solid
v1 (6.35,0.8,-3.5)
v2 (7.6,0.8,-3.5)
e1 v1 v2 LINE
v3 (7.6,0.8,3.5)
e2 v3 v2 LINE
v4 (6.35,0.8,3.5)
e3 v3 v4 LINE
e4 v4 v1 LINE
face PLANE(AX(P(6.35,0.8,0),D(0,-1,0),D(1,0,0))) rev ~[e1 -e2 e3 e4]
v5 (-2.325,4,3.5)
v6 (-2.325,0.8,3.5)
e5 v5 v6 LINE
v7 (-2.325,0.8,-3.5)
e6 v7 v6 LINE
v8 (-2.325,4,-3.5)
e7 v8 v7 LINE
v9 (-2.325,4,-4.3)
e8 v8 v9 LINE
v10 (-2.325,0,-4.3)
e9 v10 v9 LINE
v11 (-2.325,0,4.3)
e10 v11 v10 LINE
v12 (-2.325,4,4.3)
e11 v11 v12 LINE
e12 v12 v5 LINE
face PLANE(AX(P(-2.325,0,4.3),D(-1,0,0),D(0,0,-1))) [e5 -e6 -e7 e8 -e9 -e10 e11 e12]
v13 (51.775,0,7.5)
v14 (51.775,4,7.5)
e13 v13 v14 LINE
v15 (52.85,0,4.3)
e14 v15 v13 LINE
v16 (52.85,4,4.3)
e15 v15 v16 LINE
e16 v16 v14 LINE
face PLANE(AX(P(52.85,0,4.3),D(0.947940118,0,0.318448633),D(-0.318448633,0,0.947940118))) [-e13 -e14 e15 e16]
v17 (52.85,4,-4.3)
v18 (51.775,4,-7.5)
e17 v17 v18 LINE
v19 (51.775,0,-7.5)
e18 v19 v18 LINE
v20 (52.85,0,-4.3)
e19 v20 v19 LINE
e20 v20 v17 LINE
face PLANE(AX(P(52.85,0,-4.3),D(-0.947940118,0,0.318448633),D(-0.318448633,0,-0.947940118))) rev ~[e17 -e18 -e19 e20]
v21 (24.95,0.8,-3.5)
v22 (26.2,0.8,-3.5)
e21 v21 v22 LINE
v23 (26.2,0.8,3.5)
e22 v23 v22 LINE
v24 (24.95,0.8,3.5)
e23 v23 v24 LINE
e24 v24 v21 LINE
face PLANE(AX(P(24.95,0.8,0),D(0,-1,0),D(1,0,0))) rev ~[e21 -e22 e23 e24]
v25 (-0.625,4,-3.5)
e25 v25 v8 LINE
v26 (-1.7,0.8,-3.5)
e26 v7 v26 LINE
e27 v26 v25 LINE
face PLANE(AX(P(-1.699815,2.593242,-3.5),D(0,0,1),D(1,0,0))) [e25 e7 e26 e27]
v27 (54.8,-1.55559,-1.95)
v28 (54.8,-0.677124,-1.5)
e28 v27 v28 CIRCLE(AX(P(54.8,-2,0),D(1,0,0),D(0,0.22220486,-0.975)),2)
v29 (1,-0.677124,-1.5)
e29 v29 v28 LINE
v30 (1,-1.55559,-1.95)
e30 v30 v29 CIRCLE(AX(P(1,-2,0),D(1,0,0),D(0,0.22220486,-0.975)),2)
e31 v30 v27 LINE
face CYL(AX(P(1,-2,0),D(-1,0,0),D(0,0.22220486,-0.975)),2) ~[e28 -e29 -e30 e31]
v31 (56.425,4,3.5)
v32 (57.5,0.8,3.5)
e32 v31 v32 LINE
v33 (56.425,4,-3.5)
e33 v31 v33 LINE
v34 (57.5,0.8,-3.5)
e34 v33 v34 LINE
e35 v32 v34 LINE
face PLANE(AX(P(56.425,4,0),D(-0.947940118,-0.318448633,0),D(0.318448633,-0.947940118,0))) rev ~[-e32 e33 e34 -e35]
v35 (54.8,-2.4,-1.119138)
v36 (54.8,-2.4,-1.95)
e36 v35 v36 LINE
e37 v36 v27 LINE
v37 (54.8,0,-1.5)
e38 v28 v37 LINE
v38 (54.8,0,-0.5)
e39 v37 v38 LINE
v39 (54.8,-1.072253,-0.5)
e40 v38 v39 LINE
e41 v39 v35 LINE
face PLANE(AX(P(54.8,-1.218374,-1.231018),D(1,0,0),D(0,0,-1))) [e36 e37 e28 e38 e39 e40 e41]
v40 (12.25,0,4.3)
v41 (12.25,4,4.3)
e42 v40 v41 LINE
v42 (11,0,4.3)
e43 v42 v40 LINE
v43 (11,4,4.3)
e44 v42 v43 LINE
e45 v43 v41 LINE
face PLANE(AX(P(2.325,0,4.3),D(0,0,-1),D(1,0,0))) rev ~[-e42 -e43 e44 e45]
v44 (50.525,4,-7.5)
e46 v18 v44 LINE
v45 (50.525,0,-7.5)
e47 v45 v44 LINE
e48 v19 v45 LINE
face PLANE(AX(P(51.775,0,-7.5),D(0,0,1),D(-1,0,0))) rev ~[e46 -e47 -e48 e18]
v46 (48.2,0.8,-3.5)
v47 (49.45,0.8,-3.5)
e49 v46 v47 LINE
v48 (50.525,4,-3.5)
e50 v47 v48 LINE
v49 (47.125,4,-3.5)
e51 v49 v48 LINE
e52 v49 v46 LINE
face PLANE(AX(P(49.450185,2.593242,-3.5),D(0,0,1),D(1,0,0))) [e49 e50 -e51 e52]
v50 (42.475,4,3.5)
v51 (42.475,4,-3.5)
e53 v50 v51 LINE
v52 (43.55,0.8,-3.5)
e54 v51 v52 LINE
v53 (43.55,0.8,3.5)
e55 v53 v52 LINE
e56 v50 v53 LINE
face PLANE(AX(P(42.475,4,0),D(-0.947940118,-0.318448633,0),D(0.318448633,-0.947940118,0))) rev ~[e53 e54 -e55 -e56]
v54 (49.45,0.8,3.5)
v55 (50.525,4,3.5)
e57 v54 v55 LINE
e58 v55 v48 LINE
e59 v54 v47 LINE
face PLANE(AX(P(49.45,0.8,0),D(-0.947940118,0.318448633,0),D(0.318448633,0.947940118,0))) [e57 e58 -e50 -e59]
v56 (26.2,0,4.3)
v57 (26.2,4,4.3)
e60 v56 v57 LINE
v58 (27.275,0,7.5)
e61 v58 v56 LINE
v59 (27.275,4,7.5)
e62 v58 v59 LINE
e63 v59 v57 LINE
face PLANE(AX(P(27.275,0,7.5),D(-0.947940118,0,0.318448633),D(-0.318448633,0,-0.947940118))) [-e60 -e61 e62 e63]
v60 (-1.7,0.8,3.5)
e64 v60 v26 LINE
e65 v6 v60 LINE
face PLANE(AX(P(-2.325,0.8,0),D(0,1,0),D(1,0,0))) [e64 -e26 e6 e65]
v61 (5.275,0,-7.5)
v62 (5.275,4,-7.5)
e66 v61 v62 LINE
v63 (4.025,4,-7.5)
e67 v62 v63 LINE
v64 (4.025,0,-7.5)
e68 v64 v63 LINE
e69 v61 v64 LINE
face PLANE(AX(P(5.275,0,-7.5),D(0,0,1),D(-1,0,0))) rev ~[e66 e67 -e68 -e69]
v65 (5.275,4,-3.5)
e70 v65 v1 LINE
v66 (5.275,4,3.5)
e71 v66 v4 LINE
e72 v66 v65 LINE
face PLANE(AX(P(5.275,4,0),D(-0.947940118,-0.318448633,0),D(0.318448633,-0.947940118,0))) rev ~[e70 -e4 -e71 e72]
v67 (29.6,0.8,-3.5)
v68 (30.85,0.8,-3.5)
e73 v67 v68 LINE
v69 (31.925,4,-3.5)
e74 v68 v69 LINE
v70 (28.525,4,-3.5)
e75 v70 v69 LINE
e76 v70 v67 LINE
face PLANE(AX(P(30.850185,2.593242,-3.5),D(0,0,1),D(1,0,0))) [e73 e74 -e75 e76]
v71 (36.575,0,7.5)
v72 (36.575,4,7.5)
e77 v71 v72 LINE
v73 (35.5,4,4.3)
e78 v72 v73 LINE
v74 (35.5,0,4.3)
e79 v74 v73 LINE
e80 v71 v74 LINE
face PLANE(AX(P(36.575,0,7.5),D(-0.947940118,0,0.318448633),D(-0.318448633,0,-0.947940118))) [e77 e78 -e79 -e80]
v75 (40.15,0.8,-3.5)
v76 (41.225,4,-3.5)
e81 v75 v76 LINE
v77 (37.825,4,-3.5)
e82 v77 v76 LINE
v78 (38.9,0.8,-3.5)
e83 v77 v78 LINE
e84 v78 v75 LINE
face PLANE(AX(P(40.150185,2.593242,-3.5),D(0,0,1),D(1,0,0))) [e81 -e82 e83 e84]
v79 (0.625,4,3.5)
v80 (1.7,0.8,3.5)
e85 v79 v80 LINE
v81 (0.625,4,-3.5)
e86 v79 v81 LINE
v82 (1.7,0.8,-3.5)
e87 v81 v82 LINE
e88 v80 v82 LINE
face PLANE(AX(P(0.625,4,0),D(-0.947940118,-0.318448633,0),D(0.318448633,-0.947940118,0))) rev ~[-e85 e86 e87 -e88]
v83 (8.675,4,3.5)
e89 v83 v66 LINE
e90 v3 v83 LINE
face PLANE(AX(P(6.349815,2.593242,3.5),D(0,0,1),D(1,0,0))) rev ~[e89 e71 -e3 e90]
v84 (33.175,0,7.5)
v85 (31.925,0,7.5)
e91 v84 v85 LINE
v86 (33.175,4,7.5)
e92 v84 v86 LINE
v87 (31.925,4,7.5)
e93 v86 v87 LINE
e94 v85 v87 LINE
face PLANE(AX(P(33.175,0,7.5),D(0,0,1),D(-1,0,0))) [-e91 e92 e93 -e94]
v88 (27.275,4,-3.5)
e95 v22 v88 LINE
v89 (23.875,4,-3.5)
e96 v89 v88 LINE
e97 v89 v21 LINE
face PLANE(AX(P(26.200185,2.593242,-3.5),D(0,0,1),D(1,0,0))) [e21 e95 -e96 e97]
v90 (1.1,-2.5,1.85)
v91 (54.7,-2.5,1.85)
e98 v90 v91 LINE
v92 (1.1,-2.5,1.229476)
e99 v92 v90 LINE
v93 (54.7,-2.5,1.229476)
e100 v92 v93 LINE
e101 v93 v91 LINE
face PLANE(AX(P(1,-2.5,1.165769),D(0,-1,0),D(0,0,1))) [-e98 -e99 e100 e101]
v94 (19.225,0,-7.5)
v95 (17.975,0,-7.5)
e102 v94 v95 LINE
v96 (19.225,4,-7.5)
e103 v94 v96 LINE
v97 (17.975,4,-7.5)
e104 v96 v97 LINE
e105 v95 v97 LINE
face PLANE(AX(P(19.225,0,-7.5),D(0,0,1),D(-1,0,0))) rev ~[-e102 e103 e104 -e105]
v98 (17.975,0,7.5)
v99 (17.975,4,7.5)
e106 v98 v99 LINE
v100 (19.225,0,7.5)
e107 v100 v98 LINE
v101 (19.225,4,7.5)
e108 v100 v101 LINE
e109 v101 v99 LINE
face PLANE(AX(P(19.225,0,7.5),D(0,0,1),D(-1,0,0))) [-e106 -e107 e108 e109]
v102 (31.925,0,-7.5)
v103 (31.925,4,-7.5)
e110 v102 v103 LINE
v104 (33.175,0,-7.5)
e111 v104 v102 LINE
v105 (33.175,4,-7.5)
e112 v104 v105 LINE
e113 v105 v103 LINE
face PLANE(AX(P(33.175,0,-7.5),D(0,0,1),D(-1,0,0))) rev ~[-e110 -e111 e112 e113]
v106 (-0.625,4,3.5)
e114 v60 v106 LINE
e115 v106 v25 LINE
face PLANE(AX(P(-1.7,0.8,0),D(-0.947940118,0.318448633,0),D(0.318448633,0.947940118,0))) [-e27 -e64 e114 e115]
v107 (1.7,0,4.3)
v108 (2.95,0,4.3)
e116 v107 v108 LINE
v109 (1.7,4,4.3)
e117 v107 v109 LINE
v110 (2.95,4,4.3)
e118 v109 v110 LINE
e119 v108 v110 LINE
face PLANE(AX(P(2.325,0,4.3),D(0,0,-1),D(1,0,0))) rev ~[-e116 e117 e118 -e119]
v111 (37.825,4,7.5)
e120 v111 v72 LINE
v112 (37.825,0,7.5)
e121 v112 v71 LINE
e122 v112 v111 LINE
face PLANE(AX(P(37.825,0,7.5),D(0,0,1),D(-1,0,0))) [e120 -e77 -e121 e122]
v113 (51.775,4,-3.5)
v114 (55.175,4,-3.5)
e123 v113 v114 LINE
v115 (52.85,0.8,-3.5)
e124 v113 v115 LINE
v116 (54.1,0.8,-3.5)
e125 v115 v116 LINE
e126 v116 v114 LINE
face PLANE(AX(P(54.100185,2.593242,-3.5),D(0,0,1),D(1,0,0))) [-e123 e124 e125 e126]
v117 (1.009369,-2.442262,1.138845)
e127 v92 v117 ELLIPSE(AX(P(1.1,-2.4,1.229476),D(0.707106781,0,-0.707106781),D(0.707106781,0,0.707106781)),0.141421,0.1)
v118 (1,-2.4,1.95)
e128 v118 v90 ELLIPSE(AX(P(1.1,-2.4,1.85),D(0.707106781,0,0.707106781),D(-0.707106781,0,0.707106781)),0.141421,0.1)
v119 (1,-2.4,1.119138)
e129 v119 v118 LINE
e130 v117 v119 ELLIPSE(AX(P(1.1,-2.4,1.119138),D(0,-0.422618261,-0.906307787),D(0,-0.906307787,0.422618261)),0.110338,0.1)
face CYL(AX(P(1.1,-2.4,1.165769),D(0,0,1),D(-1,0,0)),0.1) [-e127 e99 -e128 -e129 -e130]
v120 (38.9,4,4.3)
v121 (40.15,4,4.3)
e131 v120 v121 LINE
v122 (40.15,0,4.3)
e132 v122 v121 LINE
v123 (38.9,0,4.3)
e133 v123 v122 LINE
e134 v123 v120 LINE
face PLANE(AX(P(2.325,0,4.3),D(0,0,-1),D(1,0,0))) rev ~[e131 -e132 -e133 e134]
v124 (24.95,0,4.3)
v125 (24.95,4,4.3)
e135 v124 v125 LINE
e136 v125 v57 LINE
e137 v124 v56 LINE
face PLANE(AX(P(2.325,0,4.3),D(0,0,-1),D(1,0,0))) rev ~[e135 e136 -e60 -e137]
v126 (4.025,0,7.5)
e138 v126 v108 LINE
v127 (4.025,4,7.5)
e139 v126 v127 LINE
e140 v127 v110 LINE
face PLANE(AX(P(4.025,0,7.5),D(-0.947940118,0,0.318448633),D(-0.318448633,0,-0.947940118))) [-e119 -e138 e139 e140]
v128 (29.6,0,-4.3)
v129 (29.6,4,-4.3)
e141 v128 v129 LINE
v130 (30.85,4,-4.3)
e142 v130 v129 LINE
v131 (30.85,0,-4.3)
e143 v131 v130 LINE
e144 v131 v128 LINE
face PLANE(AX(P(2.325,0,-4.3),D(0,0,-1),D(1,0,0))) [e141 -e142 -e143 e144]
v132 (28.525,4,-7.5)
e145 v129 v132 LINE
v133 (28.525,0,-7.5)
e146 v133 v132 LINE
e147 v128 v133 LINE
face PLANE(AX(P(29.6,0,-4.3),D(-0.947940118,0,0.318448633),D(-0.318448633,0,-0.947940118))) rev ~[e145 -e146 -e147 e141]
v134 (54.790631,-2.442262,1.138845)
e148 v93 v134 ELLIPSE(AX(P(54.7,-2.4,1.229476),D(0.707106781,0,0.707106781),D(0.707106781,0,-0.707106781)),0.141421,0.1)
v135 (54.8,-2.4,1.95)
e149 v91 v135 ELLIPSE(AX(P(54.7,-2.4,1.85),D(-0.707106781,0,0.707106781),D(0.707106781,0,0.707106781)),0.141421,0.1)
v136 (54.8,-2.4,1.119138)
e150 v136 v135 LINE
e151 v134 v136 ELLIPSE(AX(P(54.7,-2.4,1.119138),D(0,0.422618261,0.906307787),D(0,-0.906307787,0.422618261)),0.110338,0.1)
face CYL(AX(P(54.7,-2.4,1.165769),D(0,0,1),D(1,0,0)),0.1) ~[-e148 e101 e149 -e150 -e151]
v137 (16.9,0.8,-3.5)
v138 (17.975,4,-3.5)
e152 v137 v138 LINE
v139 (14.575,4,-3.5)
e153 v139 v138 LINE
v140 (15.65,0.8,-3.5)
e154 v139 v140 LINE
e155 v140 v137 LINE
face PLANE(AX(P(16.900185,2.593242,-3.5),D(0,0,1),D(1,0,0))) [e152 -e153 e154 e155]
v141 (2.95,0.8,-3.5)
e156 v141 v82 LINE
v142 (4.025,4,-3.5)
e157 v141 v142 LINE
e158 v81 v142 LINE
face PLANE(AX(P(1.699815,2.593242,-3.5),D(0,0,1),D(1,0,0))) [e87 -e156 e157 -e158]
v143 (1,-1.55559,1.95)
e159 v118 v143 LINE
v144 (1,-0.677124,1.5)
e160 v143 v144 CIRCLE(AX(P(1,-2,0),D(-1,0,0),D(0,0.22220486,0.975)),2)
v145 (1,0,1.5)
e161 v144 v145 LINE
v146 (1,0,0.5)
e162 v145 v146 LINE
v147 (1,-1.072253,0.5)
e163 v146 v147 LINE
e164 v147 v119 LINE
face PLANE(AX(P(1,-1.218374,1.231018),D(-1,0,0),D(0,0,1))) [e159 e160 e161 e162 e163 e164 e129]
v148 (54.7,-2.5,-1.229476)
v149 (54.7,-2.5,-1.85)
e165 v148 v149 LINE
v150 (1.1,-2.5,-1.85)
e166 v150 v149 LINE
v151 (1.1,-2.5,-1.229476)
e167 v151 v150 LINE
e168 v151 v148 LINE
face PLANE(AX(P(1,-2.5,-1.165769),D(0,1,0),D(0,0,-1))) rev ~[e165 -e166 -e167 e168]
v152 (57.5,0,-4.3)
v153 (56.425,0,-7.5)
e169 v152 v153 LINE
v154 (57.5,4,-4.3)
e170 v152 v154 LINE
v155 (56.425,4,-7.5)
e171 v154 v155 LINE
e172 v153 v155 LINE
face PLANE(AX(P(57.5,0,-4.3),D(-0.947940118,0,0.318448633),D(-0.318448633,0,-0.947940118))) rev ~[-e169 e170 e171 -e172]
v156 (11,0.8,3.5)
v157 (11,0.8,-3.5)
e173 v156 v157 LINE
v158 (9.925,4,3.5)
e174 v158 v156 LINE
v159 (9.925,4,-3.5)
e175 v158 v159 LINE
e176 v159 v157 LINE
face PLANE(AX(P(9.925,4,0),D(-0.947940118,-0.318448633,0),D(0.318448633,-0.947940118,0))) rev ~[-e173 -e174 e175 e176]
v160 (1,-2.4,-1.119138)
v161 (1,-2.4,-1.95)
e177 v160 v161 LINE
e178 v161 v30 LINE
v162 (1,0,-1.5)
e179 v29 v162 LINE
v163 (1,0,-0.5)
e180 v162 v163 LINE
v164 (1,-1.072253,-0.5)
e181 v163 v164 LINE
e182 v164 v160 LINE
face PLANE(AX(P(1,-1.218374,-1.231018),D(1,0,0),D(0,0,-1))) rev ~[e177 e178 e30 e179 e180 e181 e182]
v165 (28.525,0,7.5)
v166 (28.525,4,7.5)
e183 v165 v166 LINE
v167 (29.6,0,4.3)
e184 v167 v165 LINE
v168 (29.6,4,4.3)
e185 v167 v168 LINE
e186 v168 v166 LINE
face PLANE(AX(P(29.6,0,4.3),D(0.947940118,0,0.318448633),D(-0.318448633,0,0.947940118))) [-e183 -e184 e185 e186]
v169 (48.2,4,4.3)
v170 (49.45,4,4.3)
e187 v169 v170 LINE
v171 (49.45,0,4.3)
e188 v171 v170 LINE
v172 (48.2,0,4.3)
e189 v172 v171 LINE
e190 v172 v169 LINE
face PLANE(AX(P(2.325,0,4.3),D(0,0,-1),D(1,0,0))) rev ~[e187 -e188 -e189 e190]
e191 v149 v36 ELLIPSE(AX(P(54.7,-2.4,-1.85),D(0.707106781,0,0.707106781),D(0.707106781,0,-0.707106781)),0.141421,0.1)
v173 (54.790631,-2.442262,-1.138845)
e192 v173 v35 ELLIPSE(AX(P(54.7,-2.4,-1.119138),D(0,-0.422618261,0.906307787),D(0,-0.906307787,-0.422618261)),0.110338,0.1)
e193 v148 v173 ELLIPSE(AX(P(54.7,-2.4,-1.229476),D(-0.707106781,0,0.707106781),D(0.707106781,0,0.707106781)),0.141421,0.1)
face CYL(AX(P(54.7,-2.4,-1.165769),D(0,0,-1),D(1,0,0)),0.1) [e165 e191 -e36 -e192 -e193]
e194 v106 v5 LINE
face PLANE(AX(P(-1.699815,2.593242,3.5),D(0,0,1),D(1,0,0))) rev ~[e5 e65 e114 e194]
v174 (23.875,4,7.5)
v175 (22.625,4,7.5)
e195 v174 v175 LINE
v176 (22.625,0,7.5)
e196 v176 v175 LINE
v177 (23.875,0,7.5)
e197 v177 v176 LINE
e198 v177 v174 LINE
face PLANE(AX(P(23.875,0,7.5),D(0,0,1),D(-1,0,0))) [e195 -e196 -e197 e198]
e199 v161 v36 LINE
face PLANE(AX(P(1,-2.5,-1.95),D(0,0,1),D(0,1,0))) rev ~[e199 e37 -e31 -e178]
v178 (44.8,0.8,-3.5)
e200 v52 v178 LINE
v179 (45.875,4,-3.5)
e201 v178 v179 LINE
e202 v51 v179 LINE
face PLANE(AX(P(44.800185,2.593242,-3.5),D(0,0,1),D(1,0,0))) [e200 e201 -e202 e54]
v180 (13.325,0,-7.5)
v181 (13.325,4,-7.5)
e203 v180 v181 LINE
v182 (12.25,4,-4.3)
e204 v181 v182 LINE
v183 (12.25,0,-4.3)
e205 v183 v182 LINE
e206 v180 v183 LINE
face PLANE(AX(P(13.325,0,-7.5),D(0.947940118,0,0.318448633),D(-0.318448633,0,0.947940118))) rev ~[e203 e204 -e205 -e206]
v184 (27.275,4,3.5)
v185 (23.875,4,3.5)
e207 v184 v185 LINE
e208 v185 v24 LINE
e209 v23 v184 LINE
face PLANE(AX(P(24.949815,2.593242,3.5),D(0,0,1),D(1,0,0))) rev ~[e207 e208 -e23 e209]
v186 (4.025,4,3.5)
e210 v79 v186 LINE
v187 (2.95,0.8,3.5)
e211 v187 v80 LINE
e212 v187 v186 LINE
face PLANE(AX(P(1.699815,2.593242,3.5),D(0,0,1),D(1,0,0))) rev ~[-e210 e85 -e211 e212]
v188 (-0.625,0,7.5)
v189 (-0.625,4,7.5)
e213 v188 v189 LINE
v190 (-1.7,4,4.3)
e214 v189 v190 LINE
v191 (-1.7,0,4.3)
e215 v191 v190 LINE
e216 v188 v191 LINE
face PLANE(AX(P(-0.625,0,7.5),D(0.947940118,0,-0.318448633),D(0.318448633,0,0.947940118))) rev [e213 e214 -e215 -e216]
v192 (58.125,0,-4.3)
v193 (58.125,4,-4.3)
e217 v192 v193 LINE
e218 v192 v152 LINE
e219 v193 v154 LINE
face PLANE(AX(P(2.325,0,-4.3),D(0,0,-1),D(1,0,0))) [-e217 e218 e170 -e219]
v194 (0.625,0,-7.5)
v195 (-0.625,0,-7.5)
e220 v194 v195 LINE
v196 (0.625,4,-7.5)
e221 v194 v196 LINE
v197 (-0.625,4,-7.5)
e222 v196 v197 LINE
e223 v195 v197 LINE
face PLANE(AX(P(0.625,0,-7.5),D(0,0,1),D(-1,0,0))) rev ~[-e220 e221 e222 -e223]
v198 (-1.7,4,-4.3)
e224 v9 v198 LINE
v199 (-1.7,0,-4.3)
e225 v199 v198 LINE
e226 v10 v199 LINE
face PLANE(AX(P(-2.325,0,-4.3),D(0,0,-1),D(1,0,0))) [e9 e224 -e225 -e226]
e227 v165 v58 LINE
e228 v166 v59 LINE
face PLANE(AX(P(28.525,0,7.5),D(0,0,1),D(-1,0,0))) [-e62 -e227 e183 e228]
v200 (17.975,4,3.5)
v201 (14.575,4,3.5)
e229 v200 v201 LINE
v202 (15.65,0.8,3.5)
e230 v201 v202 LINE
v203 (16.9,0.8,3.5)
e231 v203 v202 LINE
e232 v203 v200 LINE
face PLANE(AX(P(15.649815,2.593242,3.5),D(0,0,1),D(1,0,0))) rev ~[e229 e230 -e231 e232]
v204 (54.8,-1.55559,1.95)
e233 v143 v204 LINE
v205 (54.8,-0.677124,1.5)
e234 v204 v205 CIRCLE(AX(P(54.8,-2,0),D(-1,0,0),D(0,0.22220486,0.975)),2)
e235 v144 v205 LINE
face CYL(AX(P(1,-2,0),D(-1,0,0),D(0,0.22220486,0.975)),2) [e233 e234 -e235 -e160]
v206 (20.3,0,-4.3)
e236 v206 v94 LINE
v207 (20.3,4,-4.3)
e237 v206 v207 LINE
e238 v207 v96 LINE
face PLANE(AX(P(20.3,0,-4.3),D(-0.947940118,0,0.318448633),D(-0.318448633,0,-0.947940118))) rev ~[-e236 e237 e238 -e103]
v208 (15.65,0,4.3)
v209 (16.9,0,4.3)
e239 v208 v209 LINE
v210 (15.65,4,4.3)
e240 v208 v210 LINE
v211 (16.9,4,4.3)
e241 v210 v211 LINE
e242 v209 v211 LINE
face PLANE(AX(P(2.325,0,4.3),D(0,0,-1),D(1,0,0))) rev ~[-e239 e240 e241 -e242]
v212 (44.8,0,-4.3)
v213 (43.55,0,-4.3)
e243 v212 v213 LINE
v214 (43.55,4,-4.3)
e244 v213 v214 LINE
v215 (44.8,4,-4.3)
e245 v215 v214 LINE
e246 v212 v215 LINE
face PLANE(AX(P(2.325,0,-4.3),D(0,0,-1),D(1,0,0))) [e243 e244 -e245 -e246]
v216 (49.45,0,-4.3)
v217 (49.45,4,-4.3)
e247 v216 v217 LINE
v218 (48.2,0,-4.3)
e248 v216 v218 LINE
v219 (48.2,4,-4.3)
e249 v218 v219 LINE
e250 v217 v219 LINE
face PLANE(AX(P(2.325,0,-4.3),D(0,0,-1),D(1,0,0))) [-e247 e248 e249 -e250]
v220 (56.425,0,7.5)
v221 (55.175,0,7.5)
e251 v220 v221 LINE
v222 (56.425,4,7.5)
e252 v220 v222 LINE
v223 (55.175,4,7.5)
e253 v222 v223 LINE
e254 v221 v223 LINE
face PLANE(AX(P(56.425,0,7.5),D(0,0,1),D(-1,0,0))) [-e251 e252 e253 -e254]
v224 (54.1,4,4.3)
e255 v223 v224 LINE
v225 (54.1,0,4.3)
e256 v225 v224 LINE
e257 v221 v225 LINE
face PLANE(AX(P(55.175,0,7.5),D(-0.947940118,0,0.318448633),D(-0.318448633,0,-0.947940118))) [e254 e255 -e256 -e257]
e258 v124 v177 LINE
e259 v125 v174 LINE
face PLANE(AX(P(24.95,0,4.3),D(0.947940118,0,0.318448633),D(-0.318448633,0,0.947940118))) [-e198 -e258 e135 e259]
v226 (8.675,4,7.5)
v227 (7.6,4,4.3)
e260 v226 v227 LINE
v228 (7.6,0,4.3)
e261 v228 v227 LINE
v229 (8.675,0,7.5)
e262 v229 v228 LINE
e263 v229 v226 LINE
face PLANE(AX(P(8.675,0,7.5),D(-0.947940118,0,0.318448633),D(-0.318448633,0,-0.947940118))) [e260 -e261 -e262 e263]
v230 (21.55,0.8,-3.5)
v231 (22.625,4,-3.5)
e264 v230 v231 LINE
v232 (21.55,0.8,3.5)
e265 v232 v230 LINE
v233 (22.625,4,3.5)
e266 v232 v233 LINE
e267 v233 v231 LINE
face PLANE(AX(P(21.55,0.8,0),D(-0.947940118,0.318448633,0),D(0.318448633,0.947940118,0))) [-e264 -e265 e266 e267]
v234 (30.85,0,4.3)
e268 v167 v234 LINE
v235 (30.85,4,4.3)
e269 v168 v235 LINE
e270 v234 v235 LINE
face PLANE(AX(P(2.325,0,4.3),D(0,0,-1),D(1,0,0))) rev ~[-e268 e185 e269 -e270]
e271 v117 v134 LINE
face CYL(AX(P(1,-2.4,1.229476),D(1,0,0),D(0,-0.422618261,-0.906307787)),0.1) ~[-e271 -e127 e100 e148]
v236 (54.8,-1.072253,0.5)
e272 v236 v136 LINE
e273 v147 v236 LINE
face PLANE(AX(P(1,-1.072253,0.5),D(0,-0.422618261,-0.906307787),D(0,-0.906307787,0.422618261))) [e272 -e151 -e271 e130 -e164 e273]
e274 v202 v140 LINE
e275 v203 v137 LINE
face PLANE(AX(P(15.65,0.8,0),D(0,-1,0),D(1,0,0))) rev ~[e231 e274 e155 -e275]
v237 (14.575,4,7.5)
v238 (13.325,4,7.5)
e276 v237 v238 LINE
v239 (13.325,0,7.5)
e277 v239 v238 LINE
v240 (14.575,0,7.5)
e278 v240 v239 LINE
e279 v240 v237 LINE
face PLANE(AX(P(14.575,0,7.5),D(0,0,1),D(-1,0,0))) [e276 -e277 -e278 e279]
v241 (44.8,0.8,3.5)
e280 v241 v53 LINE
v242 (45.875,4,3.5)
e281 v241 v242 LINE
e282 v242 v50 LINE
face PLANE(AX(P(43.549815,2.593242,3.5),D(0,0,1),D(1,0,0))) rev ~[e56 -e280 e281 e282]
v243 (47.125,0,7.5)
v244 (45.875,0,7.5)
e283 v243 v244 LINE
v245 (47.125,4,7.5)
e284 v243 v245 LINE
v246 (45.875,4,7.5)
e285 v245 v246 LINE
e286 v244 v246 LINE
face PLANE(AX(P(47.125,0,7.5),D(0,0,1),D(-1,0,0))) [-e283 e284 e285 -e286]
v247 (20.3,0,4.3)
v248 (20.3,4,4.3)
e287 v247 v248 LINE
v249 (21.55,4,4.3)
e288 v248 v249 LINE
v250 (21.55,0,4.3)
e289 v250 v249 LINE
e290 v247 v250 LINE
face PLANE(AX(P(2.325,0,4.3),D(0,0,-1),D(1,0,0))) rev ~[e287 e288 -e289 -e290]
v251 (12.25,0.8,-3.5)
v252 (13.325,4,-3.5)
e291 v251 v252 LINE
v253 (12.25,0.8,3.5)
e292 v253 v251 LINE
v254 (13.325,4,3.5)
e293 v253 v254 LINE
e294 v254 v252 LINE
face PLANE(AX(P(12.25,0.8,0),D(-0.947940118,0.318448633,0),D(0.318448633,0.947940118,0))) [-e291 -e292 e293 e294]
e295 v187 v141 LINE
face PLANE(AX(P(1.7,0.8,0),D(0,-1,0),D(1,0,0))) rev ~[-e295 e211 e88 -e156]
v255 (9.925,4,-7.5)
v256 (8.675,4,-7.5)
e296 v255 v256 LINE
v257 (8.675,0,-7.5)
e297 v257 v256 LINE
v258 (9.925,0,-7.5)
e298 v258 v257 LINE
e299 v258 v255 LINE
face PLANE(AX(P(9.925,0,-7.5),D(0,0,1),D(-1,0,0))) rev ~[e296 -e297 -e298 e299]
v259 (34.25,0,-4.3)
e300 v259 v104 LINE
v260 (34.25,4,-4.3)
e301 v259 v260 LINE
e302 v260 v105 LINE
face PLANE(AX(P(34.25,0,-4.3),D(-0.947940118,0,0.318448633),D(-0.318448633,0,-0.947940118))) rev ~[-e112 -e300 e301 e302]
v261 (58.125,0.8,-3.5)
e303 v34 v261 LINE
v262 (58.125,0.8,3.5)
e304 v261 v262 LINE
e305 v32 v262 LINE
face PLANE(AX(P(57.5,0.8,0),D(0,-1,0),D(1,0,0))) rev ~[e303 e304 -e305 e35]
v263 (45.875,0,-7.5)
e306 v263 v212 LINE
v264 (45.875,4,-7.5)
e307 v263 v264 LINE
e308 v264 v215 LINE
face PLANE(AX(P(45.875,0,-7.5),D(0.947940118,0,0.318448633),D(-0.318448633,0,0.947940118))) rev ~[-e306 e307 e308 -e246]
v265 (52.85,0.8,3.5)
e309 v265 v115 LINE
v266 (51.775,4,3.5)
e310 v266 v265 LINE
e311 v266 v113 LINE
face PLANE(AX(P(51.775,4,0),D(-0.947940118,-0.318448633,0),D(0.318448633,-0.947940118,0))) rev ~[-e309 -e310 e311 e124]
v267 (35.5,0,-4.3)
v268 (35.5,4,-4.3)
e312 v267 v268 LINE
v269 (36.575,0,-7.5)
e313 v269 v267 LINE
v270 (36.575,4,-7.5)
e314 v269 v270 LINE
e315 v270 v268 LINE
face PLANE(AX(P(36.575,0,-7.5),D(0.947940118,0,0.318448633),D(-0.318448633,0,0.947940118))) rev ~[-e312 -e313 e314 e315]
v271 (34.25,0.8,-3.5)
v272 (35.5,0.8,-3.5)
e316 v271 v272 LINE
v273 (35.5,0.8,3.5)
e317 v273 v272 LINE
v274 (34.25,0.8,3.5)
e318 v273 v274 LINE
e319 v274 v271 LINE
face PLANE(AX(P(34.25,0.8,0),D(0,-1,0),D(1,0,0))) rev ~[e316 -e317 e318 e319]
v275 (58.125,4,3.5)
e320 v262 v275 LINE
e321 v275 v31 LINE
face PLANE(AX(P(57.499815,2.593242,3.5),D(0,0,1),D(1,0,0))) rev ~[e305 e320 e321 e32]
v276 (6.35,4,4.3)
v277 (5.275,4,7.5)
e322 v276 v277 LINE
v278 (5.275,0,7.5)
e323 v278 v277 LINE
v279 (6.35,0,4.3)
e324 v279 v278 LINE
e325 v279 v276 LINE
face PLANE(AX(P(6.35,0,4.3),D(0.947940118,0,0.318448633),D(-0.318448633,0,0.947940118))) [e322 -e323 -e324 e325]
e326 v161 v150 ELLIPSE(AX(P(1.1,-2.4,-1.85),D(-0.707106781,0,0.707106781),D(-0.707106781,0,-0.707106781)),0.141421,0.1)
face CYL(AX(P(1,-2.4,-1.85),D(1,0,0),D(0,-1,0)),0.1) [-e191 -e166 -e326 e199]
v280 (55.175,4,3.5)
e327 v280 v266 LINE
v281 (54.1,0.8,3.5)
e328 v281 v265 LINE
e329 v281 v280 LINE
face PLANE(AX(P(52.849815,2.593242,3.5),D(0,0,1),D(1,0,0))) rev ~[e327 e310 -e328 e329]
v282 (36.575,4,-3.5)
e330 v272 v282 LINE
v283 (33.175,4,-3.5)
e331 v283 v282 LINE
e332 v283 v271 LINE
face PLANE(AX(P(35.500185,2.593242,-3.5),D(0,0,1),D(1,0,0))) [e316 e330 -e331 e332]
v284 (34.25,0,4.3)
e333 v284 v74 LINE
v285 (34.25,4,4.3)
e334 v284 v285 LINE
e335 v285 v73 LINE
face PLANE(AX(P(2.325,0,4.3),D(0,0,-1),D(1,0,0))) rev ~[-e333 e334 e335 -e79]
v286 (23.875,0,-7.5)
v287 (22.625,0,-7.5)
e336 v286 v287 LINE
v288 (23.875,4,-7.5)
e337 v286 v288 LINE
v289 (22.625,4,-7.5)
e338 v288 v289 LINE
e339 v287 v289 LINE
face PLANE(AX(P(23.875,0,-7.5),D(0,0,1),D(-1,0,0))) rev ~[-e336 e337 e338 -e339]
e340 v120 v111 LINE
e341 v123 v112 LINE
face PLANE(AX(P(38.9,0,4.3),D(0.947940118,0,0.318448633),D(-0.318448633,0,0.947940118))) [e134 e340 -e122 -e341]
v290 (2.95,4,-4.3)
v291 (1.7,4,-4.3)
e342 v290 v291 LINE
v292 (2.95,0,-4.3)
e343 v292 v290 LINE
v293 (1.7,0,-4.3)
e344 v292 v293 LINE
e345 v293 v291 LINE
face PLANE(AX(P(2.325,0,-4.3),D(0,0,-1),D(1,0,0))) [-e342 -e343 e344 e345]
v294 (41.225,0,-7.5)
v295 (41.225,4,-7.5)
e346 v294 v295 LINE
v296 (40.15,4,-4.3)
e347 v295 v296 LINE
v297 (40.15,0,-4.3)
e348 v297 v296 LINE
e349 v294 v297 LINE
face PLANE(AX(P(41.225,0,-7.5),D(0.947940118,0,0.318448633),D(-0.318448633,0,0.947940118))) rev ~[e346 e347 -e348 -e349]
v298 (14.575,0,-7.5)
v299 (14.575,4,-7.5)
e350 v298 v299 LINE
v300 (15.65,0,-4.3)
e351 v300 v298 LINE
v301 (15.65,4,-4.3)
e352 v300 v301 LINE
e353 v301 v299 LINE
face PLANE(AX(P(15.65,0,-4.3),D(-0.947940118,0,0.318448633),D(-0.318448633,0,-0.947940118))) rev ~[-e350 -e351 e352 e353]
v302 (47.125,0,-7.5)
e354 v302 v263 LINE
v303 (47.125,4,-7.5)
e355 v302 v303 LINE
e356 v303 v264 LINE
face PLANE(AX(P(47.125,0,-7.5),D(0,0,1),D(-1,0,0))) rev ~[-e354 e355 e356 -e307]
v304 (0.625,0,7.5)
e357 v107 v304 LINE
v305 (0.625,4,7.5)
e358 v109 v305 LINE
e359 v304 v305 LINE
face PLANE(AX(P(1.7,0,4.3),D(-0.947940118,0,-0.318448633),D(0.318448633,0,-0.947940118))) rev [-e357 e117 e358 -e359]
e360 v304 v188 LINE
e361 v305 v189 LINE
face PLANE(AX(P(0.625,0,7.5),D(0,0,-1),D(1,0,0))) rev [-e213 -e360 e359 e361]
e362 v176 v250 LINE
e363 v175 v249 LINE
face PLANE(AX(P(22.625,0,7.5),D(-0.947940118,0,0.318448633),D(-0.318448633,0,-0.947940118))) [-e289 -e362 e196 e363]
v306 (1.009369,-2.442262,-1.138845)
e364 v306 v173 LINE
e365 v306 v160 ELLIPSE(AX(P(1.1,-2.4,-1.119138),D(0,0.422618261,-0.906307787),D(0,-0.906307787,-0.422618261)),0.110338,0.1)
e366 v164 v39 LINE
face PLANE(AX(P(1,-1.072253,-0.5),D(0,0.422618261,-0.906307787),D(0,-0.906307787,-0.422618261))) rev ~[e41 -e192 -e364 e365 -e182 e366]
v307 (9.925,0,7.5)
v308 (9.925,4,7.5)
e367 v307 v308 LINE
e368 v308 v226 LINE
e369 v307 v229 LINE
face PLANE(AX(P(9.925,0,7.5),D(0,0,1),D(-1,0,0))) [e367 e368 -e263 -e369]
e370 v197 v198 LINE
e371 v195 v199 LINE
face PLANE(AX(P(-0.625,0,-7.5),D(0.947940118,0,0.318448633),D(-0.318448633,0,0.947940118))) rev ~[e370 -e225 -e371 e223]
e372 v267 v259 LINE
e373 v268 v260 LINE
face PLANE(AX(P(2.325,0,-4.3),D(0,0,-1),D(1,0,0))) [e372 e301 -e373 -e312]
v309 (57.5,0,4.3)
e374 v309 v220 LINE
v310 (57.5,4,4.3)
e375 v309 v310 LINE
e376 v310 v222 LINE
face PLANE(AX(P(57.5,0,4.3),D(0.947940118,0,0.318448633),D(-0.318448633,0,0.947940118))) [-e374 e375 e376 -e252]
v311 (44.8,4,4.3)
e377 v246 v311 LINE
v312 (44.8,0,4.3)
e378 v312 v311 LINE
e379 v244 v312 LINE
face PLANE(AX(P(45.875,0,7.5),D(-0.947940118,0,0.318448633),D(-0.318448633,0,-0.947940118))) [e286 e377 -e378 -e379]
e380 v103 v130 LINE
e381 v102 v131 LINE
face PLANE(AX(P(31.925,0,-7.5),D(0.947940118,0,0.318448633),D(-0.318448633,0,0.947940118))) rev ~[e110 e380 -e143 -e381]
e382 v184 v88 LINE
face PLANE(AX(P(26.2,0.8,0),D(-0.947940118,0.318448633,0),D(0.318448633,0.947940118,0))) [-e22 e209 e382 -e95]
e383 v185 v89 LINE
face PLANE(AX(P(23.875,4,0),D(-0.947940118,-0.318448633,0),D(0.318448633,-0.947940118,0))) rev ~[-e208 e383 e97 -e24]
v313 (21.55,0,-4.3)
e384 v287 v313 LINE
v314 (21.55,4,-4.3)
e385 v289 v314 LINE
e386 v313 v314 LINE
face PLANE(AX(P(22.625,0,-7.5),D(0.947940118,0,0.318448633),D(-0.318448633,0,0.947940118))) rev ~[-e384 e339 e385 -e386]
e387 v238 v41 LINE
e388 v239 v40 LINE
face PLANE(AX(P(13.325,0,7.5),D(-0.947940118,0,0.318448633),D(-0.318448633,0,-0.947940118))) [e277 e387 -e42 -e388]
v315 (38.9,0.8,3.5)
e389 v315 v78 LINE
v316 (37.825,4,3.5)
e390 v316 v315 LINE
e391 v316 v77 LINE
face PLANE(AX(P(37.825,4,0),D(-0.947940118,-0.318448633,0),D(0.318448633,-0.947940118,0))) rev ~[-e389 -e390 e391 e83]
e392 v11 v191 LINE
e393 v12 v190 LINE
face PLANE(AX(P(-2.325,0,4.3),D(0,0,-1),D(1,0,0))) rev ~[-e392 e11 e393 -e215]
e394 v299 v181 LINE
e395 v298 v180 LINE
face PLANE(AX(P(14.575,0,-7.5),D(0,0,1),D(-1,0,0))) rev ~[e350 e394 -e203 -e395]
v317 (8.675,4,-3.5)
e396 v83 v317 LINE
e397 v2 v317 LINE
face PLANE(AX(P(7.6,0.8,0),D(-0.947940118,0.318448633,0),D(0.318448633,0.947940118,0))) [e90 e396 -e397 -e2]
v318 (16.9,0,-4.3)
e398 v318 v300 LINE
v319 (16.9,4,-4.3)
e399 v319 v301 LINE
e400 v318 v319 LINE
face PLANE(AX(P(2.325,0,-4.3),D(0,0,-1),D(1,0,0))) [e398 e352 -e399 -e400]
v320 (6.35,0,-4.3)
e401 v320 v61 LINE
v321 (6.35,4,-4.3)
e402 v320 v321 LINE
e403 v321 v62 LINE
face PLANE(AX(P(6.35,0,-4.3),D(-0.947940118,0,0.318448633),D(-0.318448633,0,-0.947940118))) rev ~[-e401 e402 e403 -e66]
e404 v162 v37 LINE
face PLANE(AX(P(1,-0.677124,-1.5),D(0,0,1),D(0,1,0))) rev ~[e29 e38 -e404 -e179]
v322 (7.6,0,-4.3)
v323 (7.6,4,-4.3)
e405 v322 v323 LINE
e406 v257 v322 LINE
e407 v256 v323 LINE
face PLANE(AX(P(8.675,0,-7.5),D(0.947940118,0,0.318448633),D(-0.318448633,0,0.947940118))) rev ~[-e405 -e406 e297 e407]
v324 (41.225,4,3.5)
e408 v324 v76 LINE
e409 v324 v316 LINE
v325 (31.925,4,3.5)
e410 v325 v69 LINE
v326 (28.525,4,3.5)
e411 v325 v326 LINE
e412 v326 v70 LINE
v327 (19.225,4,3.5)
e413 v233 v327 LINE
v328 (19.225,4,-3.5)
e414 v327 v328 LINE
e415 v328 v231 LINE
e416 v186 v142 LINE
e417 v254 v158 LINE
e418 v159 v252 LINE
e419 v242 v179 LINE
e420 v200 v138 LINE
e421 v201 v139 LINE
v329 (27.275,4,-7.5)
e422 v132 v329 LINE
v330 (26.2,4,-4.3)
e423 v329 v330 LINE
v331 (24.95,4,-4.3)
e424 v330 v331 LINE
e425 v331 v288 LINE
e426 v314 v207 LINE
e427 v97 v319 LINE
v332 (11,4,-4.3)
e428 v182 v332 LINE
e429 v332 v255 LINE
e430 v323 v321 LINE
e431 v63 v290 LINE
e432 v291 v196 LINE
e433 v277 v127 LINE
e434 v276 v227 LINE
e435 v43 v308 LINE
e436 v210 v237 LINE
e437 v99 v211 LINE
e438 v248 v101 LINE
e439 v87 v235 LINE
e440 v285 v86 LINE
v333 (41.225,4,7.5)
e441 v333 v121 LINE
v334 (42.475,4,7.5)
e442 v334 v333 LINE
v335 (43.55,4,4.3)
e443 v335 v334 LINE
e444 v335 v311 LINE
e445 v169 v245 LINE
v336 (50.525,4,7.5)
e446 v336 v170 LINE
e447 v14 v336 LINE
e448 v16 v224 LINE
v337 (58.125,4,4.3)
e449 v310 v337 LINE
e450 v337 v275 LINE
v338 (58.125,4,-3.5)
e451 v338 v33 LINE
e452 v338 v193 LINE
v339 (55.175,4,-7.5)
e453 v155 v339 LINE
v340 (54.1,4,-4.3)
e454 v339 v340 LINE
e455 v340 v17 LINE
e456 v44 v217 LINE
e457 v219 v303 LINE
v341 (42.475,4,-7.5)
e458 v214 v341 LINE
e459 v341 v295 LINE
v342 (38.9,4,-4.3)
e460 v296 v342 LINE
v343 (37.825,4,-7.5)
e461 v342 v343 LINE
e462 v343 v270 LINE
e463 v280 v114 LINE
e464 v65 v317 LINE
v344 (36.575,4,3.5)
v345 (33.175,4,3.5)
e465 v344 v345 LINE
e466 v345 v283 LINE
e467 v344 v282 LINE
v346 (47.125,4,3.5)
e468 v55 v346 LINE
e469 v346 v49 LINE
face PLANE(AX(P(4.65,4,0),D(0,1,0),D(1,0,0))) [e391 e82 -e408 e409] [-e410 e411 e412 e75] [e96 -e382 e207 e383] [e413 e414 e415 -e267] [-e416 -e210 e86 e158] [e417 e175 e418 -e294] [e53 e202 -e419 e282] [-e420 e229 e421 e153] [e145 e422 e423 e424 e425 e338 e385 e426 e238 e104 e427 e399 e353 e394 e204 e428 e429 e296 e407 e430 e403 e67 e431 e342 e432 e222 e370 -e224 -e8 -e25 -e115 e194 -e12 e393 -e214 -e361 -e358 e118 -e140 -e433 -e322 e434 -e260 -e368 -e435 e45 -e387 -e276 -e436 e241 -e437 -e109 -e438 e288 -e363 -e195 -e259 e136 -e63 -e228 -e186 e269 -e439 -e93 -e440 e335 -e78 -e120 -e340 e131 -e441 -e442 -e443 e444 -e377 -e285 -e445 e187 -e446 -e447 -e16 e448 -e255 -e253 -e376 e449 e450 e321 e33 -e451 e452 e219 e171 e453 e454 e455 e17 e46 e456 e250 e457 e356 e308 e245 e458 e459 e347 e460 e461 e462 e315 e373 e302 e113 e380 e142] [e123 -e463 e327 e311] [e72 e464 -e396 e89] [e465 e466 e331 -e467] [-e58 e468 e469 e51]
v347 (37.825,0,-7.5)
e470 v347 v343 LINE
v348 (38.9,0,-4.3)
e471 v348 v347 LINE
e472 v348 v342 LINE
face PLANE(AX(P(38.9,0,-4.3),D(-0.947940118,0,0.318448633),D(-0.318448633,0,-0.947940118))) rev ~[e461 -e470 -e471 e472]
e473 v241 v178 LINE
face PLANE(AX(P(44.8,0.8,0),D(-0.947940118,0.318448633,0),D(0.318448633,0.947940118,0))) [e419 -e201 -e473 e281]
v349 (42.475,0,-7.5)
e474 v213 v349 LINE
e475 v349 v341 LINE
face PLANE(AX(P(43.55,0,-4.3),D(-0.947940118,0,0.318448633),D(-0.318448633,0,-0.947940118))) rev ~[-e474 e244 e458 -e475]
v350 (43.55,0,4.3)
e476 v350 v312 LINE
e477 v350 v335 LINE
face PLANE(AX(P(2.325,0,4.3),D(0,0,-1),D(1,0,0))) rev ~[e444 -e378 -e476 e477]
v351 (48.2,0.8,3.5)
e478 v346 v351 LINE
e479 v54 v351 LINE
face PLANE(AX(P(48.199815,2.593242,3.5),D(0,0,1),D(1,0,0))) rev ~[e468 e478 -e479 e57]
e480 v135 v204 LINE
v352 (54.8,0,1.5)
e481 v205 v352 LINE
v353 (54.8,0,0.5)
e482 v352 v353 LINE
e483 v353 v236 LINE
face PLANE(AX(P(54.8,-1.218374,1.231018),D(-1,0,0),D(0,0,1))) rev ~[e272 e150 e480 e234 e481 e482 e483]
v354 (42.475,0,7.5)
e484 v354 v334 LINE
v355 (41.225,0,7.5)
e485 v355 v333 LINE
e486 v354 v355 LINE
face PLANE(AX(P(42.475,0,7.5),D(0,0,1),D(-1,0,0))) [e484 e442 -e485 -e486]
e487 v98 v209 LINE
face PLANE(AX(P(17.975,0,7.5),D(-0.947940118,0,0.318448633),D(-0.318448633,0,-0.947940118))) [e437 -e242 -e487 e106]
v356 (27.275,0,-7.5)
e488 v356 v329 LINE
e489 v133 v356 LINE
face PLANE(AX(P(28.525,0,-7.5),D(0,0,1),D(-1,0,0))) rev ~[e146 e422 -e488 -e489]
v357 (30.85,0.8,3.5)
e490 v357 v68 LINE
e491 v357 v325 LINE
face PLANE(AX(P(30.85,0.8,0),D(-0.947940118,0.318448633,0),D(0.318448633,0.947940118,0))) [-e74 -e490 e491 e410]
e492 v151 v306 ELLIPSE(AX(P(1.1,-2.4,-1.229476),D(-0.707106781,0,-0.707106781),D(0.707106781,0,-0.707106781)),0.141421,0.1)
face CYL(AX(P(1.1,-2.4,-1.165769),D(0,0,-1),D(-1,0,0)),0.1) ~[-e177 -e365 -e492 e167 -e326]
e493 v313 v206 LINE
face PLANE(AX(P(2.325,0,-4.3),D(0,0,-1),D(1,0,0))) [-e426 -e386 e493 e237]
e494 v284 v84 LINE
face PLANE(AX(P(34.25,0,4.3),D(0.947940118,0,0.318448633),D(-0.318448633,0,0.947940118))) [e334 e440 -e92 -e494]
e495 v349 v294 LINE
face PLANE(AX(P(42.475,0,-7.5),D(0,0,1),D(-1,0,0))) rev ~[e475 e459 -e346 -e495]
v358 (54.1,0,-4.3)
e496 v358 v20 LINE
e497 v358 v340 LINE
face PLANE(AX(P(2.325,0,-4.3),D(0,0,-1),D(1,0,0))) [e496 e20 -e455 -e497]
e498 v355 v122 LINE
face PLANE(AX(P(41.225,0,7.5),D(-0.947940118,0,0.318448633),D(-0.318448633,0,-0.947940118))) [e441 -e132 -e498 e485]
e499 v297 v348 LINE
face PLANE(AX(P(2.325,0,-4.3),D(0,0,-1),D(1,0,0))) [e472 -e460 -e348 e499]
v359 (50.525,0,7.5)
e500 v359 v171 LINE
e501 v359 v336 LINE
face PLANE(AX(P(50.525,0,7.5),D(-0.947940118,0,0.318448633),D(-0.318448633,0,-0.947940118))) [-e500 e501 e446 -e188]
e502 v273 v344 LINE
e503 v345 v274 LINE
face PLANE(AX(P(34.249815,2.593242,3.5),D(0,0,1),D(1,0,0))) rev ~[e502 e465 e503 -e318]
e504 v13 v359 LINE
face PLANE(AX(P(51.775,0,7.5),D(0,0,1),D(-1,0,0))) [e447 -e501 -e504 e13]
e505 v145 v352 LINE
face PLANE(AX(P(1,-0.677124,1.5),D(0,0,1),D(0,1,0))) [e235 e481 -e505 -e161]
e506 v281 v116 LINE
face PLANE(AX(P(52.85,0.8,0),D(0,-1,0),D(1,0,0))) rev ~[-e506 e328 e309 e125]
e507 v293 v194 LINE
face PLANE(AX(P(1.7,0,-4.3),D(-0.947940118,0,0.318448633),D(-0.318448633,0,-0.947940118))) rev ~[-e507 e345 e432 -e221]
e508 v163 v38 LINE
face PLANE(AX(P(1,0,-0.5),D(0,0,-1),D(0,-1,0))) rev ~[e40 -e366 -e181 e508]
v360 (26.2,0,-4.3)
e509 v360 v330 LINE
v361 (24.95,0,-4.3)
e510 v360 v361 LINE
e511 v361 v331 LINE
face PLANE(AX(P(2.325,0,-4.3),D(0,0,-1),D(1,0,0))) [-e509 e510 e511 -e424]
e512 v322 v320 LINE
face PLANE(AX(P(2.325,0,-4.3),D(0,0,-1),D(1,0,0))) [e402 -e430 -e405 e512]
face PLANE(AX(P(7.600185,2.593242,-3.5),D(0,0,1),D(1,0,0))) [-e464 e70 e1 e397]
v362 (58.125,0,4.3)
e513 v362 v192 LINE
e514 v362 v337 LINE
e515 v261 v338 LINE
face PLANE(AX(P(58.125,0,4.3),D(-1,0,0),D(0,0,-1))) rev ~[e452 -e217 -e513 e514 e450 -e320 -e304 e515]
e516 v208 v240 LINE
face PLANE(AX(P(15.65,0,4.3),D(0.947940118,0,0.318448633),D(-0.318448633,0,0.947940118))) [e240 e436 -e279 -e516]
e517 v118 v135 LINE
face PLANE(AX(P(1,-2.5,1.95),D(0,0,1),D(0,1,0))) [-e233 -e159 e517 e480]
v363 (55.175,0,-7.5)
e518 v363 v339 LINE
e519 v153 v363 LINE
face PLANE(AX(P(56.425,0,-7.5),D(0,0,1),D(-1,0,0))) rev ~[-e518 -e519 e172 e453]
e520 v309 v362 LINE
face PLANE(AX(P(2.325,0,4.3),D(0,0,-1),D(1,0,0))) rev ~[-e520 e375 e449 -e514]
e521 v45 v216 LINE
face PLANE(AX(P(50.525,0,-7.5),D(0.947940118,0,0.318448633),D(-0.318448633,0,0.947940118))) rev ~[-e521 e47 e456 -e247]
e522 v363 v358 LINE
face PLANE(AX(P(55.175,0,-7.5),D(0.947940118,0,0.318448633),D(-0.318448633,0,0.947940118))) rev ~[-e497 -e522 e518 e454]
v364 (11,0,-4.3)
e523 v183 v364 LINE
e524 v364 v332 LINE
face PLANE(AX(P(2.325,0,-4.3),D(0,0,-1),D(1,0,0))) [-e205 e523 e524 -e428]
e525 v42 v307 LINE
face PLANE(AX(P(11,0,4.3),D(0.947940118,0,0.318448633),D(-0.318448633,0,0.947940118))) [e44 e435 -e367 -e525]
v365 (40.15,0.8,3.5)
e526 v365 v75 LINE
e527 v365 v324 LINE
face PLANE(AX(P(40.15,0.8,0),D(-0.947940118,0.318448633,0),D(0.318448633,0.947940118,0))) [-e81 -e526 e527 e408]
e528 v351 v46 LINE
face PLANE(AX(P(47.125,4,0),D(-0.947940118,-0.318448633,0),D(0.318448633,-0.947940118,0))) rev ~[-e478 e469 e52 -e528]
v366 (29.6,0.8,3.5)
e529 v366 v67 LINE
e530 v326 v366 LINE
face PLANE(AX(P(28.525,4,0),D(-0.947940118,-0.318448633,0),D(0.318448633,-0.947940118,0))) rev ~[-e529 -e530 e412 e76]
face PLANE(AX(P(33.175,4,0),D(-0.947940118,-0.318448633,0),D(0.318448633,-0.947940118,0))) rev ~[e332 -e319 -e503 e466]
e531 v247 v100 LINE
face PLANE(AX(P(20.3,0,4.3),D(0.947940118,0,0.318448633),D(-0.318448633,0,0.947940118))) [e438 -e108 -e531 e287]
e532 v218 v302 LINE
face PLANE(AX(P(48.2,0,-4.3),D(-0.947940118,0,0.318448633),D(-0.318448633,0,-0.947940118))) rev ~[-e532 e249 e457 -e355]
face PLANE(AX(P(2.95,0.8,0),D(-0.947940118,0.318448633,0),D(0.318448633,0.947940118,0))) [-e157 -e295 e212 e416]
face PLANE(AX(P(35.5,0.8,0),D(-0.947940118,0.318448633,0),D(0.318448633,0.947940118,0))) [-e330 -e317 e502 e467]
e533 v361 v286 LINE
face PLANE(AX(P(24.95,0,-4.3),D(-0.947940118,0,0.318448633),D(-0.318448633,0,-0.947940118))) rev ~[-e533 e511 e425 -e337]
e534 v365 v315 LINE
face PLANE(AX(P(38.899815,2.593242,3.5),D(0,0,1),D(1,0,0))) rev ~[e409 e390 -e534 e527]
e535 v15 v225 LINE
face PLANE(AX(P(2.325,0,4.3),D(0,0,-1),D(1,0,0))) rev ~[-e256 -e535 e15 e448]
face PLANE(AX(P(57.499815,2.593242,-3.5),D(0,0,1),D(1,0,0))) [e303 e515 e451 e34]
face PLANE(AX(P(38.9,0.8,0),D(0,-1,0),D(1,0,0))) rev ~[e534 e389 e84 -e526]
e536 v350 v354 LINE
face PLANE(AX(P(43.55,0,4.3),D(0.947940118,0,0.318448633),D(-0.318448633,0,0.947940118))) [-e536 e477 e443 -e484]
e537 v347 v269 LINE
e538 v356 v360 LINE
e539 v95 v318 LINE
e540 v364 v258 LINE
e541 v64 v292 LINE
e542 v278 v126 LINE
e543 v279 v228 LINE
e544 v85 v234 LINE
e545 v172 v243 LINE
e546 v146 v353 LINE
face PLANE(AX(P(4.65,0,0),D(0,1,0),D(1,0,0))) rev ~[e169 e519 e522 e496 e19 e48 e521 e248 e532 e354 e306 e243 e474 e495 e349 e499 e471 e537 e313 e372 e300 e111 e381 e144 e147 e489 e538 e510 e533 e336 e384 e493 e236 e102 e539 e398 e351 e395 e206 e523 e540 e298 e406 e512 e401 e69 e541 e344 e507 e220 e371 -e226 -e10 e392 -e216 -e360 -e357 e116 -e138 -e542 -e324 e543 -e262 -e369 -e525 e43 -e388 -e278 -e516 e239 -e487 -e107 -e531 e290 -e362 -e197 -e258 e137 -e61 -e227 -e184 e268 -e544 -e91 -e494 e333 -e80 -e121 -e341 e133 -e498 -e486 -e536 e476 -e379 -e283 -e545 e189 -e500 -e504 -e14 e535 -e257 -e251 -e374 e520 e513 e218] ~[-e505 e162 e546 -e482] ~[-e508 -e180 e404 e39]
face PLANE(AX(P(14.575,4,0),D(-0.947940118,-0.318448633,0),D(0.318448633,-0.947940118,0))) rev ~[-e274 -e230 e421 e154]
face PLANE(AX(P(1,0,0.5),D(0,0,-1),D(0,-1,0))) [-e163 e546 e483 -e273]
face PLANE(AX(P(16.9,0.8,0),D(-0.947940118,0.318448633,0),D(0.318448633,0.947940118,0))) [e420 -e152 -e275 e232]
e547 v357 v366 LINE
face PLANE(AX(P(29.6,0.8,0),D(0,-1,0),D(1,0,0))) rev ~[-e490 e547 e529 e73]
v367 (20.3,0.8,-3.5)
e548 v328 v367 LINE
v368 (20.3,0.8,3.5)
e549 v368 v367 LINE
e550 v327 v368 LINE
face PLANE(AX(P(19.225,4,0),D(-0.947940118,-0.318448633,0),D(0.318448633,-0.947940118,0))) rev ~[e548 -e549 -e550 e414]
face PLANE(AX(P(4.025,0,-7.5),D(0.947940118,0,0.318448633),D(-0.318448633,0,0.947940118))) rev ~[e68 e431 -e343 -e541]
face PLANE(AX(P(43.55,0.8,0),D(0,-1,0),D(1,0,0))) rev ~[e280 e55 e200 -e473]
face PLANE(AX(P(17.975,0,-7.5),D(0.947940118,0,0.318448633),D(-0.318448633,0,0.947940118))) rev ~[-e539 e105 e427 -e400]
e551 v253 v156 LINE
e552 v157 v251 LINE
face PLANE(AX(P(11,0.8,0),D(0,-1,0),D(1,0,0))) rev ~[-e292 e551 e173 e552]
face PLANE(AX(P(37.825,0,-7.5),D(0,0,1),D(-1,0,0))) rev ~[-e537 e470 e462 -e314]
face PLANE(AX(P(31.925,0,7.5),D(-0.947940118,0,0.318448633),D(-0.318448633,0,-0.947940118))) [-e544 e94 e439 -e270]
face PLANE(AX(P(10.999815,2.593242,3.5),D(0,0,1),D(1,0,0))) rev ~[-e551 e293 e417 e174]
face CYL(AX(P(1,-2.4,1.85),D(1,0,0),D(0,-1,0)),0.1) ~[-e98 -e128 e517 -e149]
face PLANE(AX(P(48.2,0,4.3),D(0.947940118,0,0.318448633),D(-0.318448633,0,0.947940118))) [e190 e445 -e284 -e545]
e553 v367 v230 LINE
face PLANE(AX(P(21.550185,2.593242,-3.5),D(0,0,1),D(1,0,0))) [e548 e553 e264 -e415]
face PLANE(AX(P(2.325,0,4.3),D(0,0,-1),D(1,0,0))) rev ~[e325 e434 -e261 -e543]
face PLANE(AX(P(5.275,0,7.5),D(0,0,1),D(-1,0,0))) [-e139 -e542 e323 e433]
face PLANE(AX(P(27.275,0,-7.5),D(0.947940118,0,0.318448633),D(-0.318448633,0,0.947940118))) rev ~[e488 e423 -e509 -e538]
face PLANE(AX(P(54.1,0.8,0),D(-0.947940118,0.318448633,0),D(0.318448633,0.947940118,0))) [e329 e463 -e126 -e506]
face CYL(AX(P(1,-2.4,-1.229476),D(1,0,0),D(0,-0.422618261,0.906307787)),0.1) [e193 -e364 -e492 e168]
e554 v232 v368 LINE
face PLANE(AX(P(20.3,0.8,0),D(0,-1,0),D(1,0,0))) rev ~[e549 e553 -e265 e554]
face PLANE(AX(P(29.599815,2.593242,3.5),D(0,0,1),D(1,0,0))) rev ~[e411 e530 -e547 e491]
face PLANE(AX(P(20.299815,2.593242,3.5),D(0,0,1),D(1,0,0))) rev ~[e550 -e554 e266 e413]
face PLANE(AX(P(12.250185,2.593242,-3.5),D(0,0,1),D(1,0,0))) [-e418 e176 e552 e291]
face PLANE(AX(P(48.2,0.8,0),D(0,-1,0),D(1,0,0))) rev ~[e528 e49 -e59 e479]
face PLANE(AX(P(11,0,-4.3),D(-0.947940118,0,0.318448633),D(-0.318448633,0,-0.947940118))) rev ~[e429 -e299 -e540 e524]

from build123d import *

# Parameters (mm, degrees)
SKETCH_1_W                     = 4.65
SKETCH_1_H                     = 8.6
EXTRUDE_1_DEPTH                = 4
EXTRUDE_2_DEPTH                = 4
CUT_EXTRUDE_1_DEPTH            = 3.5
PATTERN_LINEAR_4_COUNT         = 13
PATTERN_LINEAR_4_PITCH         = 4.65
PATTERN_LINEAR_4_COPY_1_DEPTH  = 4
PATTERN_LINEAR_4_COPY_2_DEPTH  = 4
PATTERN_LINEAR_4_COPY_3_DEPTH  = 4
PATTERN_LINEAR_4_COPY_4_DEPTH  = 4
PATTERN_LINEAR_4_COPY_5_DEPTH  = 4
PATTERN_LINEAR_4_COPY_6_DEPTH  = 4
PATTERN_LINEAR_4_COPY_7_DEPTH  = 4
PATTERN_LINEAR_4_COPY_8_DEPTH  = 4
PATTERN_LINEAR_4_COPY_9_DEPTH  = 4
PATTERN_LINEAR_4_COPY_10_DEPTH = 4
PATTERN_LINEAR_4_COPY_11_DEPTH = 4
PATTERN_LINEAR_4_COPY_12_DEPTH = 4
EXTRUDE_START                  = 1
EXTRUDE_4_DEPTH                = 53.8
FILLET_1_R                     = 0.1


with BuildPart() as part:
    # 草图1 → 凸台-拉伸1 (new body)
    with BuildSketch(Plane(origin=(0, 0, 0), x_dir=(1, 0, 0), z_dir=(0, 1, 0))):
        Rectangle(SKETCH_1_W, SKETCH_1_H)
    extrude_1 = extrude(amount=EXTRUDE_1_DEPTH)

    # 草图3 → 凸台-拉伸2 (add)
    with BuildSketch(Plane(origin=(0, 0, 0), x_dir=(1, 0, 0), z_dir=(0, 1, 0))):
        Polygon((0.625, 7.5), (-0.625, 7.5), (-1.7, 4.3), (1.7, 4.3), align=None)
    extrude_2 = extrude(amount=EXTRUDE_2_DEPTH)

    # 镜向1: 凸台-拉伸2 across plane
    add(extrude_2.mirror(Plane.XY))

    # 草图4 → 切除-拉伸1 (cut, symmetric)
    with BuildSketch(Plane.XY):
        Polygon((-0.625, 4), (-2.325, 4), (-2.325, 0.8), (-1.7, 0.8), align=None)
        Polygon((1.7, 0.8), (2.325, 0.8), (2.325, 4), (0.625, 4), align=None)
    cut_extrude_1 = extrude(amount=CUT_EXTRUDE_1_DEPTH, both=True, mode=Mode.SUBTRACT)

    # 阵列(线性)4: 凸台-拉伸1, 凸台-拉伸2, 切除-拉伸1 ×13
    with Locations(*[(i * PATTERN_LINEAR_4_PITCH, 0, 0) for i in range(1, PATTERN_LINEAR_4_COUNT)]):
        add(extrude_1)
        add(extrude_2)
        add(cut_extrude_1, mode=Mode.SUBTRACT)

    # 阵列(线性)4 copy 1 sketch → 阵列(线性)4 copy 1 (add)
    with BuildSketch(Plane(origin=(4.65, 0, 0), x_dir=(1, 0, 0), z_dir=(0, 1, 0))):
        Polygon((0.625, -7.5), (-0.625, -7.5), (-1.7, -4.3), (1.7, -4.3), align=None)
    extrude(amount=PATTERN_LINEAR_4_COPY_1_DEPTH)

    # 阵列(线性)4 copy 2 sketch → 阵列(线性)4 copy 2 (add)
    with BuildSketch(Plane(origin=(9.3, 0, 0), x_dir=(1, 0, 0), z_dir=(0, 1, 0))):
        Polygon((0.625, -7.5), (-0.625, -7.5), (-1.7, -4.3), (1.7, -4.3), align=None)
    extrude(amount=PATTERN_LINEAR_4_COPY_2_DEPTH)

    # 阵列(线性)4 copy 3 sketch → 阵列(线性)4 copy 3 (add)
    with BuildSketch(Plane(origin=(13.95, 0, 0), x_dir=(1, 0, 0), z_dir=(0, 1, 0))):
        Polygon((0.625, -7.5), (-0.625, -7.5), (-1.7, -4.3), (1.7, -4.3), align=None)
    extrude(amount=PATTERN_LINEAR_4_COPY_3_DEPTH)

    # 阵列(线性)4 copy 4 sketch → 阵列(线性)4 copy 4 (add)
    with BuildSketch(Plane(origin=(18.6, 0, 0), x_dir=(1, 0, 0), z_dir=(0, 1, 0))):
        Polygon((0.625, -7.5), (-0.625, -7.5), (-1.7, -4.3), (1.7, -4.3), align=None)
    extrude(amount=PATTERN_LINEAR_4_COPY_4_DEPTH)

    # 阵列(线性)4 copy 5 sketch → 阵列(线性)4 copy 5 (add)
    with BuildSketch(Plane(origin=(23.25, 0, 0), x_dir=(1, 0, 0), z_dir=(0, 1, 0))):
        Polygon((0.625, -7.5), (-0.625, -7.5), (-1.7, -4.3), (1.7, -4.3), align=None)
    extrude(amount=PATTERN_LINEAR_4_COPY_5_DEPTH)

    # 阵列(线性)4 copy 6 sketch → 阵列(线性)4 copy 6 (add)
    with BuildSketch(Plane(origin=(27.9, 0, 0), x_dir=(1, 0, 0), z_dir=(0, 1, 0))):
        Polygon((0.625, -7.5), (-0.625, -7.5), (-1.7, -4.3), (1.7, -4.3), align=None)
    extrude(amount=PATTERN_LINEAR_4_COPY_6_DEPTH)

    # 阵列(线性)4 copy 7 sketch → 阵列(线性)4 copy 7 (add)
    with BuildSketch(Plane(origin=(32.55, 0, 0), x_dir=(1, 0, 0), z_dir=(0, 1, 0))):
        Polygon((0.625, -7.5), (-0.625, -7.5), (-1.7, -4.3), (1.7, -4.3), align=None)
    extrude(amount=PATTERN_LINEAR_4_COPY_7_DEPTH)

    # 阵列(线性)4 copy 8 sketch → 阵列(线性)4 copy 8 (add)
    with BuildSketch(Plane(origin=(37.2, 0, 0), x_dir=(1, 0, 0), z_dir=(0, 1, 0))):
        Polygon((0.625, -7.5), (-0.625, -7.5), (-1.7, -4.3), (1.7, -4.3), align=None)
    extrude(amount=PATTERN_LINEAR_4_COPY_8_DEPTH)

    # 阵列(线性)4 copy 9 sketch → 阵列(线性)4 copy 9 (add)
    with BuildSketch(Plane(origin=(41.85, 0, 0), x_dir=(1, 0, 0), z_dir=(0, 1, 0))):
        Polygon((0.625, -7.5), (-0.625, -7.5), (-1.7, -4.3), (1.7, -4.3), align=None)
    extrude(amount=PATTERN_LINEAR_4_COPY_9_DEPTH)

    # 阵列(线性)4 copy 10 sketch → 阵列(线性)4 copy 10 (add)
    with BuildSketch(Plane(origin=(46.5, 0, 0), x_dir=(1, 0, 0), z_dir=(0, 1, 0))):
        Polygon((0.625, -7.5), (-0.625, -7.5), (-1.7, -4.3), (1.7, -4.3), align=None)
    extrude(amount=PATTERN_LINEAR_4_COPY_10_DEPTH)

    # 阵列(线性)4 copy 11 sketch → 阵列(线性)4 copy 11 (add)
    with BuildSketch(Plane(origin=(51.15, 0, 0), x_dir=(1, 0, 0), z_dir=(0, 1, 0))):
        Polygon((0.625, -7.5), (-0.625, -7.5), (-1.7, -4.3), (1.7, -4.3), align=None)
    extrude(amount=PATTERN_LINEAR_4_COPY_11_DEPTH)

    # 阵列(线性)4 copy 12 sketch → 阵列(线性)4 copy 12 (add)
    with BuildSketch(Plane(origin=(55.8, 0, 0), x_dir=(1, 0, 0), z_dir=(0, 1, 0))):
        Polygon((0.625, -7.5), (-0.625, -7.5), (-1.7, -4.3), (1.7, -4.3), align=None)
    extrude(amount=PATTERN_LINEAR_4_COPY_12_DEPTH)

    # 草图6 → 凸台-拉伸4 (add)
    with BuildSketch(Plane(origin=(0, 0, 0), x_dir=(0, 0, -1), z_dir=(1, 0, 0)).offset(EXTRUDE_START)):
        with BuildLine():
            Line((1.5, 0), (0.5, 0))
            Line((0.5, 0), (0.5, -1.07225346))
            Line((0.5, -1.07225346), (1.165769145, -2.5))
            Line((1.165769145, -2.5), (1.95, -2.5))
            Line((1.95, -2.5), (1.95, -1.555590279))
            ThreePointArc((1.95, -1.555590279), (1.780042303, -1.088161527), (1.5, -0.677124344))
            Line((1.5, -0.677124344), (1.5, 0))
        make_face()
        with BuildLine():
            Line((-0.5, -1.07225346), (-1.165769145, -2.5))
            Line((-1.165769145, -2.5), (-1.95, -2.5))
            Line((-1.95, -2.5), (-1.95, -1.555590279))
            ThreePointArc((-1.95, -1.555590279), (-1.780042303, -1.088161527), (-1.5, -0.677124344))
            Line((-1.5, -0.677124344), (-1.5, 0))
            Line((-1.5, 0), (-0.5, 0))
            Line((-0.5, 0), (-0.5, -1.07225346))
        make_face()
    extrude(amount=EXTRUDE_4_DEPTH)

    # 圆角1
    fillet_1_edges = [part.edges().sort_by_distance(p)[0] for p in [
        (1, -2.5, -1.557884573),
        (27.9, -2.5, -1.165769145),
        (27.9, -2.5, -1.95),
        (54.8, -2.5, -1.557884573),
        (1, -2.5, 1.557884573),
        (27.9, -2.5, 1.95),
        (27.9, -2.5, 1.165769145),
        (54.8, -2.5, 1.557884573),
    ]]
    fillet(fillet_1_edges, radius=FILLET_1_R)


solid = part.part
